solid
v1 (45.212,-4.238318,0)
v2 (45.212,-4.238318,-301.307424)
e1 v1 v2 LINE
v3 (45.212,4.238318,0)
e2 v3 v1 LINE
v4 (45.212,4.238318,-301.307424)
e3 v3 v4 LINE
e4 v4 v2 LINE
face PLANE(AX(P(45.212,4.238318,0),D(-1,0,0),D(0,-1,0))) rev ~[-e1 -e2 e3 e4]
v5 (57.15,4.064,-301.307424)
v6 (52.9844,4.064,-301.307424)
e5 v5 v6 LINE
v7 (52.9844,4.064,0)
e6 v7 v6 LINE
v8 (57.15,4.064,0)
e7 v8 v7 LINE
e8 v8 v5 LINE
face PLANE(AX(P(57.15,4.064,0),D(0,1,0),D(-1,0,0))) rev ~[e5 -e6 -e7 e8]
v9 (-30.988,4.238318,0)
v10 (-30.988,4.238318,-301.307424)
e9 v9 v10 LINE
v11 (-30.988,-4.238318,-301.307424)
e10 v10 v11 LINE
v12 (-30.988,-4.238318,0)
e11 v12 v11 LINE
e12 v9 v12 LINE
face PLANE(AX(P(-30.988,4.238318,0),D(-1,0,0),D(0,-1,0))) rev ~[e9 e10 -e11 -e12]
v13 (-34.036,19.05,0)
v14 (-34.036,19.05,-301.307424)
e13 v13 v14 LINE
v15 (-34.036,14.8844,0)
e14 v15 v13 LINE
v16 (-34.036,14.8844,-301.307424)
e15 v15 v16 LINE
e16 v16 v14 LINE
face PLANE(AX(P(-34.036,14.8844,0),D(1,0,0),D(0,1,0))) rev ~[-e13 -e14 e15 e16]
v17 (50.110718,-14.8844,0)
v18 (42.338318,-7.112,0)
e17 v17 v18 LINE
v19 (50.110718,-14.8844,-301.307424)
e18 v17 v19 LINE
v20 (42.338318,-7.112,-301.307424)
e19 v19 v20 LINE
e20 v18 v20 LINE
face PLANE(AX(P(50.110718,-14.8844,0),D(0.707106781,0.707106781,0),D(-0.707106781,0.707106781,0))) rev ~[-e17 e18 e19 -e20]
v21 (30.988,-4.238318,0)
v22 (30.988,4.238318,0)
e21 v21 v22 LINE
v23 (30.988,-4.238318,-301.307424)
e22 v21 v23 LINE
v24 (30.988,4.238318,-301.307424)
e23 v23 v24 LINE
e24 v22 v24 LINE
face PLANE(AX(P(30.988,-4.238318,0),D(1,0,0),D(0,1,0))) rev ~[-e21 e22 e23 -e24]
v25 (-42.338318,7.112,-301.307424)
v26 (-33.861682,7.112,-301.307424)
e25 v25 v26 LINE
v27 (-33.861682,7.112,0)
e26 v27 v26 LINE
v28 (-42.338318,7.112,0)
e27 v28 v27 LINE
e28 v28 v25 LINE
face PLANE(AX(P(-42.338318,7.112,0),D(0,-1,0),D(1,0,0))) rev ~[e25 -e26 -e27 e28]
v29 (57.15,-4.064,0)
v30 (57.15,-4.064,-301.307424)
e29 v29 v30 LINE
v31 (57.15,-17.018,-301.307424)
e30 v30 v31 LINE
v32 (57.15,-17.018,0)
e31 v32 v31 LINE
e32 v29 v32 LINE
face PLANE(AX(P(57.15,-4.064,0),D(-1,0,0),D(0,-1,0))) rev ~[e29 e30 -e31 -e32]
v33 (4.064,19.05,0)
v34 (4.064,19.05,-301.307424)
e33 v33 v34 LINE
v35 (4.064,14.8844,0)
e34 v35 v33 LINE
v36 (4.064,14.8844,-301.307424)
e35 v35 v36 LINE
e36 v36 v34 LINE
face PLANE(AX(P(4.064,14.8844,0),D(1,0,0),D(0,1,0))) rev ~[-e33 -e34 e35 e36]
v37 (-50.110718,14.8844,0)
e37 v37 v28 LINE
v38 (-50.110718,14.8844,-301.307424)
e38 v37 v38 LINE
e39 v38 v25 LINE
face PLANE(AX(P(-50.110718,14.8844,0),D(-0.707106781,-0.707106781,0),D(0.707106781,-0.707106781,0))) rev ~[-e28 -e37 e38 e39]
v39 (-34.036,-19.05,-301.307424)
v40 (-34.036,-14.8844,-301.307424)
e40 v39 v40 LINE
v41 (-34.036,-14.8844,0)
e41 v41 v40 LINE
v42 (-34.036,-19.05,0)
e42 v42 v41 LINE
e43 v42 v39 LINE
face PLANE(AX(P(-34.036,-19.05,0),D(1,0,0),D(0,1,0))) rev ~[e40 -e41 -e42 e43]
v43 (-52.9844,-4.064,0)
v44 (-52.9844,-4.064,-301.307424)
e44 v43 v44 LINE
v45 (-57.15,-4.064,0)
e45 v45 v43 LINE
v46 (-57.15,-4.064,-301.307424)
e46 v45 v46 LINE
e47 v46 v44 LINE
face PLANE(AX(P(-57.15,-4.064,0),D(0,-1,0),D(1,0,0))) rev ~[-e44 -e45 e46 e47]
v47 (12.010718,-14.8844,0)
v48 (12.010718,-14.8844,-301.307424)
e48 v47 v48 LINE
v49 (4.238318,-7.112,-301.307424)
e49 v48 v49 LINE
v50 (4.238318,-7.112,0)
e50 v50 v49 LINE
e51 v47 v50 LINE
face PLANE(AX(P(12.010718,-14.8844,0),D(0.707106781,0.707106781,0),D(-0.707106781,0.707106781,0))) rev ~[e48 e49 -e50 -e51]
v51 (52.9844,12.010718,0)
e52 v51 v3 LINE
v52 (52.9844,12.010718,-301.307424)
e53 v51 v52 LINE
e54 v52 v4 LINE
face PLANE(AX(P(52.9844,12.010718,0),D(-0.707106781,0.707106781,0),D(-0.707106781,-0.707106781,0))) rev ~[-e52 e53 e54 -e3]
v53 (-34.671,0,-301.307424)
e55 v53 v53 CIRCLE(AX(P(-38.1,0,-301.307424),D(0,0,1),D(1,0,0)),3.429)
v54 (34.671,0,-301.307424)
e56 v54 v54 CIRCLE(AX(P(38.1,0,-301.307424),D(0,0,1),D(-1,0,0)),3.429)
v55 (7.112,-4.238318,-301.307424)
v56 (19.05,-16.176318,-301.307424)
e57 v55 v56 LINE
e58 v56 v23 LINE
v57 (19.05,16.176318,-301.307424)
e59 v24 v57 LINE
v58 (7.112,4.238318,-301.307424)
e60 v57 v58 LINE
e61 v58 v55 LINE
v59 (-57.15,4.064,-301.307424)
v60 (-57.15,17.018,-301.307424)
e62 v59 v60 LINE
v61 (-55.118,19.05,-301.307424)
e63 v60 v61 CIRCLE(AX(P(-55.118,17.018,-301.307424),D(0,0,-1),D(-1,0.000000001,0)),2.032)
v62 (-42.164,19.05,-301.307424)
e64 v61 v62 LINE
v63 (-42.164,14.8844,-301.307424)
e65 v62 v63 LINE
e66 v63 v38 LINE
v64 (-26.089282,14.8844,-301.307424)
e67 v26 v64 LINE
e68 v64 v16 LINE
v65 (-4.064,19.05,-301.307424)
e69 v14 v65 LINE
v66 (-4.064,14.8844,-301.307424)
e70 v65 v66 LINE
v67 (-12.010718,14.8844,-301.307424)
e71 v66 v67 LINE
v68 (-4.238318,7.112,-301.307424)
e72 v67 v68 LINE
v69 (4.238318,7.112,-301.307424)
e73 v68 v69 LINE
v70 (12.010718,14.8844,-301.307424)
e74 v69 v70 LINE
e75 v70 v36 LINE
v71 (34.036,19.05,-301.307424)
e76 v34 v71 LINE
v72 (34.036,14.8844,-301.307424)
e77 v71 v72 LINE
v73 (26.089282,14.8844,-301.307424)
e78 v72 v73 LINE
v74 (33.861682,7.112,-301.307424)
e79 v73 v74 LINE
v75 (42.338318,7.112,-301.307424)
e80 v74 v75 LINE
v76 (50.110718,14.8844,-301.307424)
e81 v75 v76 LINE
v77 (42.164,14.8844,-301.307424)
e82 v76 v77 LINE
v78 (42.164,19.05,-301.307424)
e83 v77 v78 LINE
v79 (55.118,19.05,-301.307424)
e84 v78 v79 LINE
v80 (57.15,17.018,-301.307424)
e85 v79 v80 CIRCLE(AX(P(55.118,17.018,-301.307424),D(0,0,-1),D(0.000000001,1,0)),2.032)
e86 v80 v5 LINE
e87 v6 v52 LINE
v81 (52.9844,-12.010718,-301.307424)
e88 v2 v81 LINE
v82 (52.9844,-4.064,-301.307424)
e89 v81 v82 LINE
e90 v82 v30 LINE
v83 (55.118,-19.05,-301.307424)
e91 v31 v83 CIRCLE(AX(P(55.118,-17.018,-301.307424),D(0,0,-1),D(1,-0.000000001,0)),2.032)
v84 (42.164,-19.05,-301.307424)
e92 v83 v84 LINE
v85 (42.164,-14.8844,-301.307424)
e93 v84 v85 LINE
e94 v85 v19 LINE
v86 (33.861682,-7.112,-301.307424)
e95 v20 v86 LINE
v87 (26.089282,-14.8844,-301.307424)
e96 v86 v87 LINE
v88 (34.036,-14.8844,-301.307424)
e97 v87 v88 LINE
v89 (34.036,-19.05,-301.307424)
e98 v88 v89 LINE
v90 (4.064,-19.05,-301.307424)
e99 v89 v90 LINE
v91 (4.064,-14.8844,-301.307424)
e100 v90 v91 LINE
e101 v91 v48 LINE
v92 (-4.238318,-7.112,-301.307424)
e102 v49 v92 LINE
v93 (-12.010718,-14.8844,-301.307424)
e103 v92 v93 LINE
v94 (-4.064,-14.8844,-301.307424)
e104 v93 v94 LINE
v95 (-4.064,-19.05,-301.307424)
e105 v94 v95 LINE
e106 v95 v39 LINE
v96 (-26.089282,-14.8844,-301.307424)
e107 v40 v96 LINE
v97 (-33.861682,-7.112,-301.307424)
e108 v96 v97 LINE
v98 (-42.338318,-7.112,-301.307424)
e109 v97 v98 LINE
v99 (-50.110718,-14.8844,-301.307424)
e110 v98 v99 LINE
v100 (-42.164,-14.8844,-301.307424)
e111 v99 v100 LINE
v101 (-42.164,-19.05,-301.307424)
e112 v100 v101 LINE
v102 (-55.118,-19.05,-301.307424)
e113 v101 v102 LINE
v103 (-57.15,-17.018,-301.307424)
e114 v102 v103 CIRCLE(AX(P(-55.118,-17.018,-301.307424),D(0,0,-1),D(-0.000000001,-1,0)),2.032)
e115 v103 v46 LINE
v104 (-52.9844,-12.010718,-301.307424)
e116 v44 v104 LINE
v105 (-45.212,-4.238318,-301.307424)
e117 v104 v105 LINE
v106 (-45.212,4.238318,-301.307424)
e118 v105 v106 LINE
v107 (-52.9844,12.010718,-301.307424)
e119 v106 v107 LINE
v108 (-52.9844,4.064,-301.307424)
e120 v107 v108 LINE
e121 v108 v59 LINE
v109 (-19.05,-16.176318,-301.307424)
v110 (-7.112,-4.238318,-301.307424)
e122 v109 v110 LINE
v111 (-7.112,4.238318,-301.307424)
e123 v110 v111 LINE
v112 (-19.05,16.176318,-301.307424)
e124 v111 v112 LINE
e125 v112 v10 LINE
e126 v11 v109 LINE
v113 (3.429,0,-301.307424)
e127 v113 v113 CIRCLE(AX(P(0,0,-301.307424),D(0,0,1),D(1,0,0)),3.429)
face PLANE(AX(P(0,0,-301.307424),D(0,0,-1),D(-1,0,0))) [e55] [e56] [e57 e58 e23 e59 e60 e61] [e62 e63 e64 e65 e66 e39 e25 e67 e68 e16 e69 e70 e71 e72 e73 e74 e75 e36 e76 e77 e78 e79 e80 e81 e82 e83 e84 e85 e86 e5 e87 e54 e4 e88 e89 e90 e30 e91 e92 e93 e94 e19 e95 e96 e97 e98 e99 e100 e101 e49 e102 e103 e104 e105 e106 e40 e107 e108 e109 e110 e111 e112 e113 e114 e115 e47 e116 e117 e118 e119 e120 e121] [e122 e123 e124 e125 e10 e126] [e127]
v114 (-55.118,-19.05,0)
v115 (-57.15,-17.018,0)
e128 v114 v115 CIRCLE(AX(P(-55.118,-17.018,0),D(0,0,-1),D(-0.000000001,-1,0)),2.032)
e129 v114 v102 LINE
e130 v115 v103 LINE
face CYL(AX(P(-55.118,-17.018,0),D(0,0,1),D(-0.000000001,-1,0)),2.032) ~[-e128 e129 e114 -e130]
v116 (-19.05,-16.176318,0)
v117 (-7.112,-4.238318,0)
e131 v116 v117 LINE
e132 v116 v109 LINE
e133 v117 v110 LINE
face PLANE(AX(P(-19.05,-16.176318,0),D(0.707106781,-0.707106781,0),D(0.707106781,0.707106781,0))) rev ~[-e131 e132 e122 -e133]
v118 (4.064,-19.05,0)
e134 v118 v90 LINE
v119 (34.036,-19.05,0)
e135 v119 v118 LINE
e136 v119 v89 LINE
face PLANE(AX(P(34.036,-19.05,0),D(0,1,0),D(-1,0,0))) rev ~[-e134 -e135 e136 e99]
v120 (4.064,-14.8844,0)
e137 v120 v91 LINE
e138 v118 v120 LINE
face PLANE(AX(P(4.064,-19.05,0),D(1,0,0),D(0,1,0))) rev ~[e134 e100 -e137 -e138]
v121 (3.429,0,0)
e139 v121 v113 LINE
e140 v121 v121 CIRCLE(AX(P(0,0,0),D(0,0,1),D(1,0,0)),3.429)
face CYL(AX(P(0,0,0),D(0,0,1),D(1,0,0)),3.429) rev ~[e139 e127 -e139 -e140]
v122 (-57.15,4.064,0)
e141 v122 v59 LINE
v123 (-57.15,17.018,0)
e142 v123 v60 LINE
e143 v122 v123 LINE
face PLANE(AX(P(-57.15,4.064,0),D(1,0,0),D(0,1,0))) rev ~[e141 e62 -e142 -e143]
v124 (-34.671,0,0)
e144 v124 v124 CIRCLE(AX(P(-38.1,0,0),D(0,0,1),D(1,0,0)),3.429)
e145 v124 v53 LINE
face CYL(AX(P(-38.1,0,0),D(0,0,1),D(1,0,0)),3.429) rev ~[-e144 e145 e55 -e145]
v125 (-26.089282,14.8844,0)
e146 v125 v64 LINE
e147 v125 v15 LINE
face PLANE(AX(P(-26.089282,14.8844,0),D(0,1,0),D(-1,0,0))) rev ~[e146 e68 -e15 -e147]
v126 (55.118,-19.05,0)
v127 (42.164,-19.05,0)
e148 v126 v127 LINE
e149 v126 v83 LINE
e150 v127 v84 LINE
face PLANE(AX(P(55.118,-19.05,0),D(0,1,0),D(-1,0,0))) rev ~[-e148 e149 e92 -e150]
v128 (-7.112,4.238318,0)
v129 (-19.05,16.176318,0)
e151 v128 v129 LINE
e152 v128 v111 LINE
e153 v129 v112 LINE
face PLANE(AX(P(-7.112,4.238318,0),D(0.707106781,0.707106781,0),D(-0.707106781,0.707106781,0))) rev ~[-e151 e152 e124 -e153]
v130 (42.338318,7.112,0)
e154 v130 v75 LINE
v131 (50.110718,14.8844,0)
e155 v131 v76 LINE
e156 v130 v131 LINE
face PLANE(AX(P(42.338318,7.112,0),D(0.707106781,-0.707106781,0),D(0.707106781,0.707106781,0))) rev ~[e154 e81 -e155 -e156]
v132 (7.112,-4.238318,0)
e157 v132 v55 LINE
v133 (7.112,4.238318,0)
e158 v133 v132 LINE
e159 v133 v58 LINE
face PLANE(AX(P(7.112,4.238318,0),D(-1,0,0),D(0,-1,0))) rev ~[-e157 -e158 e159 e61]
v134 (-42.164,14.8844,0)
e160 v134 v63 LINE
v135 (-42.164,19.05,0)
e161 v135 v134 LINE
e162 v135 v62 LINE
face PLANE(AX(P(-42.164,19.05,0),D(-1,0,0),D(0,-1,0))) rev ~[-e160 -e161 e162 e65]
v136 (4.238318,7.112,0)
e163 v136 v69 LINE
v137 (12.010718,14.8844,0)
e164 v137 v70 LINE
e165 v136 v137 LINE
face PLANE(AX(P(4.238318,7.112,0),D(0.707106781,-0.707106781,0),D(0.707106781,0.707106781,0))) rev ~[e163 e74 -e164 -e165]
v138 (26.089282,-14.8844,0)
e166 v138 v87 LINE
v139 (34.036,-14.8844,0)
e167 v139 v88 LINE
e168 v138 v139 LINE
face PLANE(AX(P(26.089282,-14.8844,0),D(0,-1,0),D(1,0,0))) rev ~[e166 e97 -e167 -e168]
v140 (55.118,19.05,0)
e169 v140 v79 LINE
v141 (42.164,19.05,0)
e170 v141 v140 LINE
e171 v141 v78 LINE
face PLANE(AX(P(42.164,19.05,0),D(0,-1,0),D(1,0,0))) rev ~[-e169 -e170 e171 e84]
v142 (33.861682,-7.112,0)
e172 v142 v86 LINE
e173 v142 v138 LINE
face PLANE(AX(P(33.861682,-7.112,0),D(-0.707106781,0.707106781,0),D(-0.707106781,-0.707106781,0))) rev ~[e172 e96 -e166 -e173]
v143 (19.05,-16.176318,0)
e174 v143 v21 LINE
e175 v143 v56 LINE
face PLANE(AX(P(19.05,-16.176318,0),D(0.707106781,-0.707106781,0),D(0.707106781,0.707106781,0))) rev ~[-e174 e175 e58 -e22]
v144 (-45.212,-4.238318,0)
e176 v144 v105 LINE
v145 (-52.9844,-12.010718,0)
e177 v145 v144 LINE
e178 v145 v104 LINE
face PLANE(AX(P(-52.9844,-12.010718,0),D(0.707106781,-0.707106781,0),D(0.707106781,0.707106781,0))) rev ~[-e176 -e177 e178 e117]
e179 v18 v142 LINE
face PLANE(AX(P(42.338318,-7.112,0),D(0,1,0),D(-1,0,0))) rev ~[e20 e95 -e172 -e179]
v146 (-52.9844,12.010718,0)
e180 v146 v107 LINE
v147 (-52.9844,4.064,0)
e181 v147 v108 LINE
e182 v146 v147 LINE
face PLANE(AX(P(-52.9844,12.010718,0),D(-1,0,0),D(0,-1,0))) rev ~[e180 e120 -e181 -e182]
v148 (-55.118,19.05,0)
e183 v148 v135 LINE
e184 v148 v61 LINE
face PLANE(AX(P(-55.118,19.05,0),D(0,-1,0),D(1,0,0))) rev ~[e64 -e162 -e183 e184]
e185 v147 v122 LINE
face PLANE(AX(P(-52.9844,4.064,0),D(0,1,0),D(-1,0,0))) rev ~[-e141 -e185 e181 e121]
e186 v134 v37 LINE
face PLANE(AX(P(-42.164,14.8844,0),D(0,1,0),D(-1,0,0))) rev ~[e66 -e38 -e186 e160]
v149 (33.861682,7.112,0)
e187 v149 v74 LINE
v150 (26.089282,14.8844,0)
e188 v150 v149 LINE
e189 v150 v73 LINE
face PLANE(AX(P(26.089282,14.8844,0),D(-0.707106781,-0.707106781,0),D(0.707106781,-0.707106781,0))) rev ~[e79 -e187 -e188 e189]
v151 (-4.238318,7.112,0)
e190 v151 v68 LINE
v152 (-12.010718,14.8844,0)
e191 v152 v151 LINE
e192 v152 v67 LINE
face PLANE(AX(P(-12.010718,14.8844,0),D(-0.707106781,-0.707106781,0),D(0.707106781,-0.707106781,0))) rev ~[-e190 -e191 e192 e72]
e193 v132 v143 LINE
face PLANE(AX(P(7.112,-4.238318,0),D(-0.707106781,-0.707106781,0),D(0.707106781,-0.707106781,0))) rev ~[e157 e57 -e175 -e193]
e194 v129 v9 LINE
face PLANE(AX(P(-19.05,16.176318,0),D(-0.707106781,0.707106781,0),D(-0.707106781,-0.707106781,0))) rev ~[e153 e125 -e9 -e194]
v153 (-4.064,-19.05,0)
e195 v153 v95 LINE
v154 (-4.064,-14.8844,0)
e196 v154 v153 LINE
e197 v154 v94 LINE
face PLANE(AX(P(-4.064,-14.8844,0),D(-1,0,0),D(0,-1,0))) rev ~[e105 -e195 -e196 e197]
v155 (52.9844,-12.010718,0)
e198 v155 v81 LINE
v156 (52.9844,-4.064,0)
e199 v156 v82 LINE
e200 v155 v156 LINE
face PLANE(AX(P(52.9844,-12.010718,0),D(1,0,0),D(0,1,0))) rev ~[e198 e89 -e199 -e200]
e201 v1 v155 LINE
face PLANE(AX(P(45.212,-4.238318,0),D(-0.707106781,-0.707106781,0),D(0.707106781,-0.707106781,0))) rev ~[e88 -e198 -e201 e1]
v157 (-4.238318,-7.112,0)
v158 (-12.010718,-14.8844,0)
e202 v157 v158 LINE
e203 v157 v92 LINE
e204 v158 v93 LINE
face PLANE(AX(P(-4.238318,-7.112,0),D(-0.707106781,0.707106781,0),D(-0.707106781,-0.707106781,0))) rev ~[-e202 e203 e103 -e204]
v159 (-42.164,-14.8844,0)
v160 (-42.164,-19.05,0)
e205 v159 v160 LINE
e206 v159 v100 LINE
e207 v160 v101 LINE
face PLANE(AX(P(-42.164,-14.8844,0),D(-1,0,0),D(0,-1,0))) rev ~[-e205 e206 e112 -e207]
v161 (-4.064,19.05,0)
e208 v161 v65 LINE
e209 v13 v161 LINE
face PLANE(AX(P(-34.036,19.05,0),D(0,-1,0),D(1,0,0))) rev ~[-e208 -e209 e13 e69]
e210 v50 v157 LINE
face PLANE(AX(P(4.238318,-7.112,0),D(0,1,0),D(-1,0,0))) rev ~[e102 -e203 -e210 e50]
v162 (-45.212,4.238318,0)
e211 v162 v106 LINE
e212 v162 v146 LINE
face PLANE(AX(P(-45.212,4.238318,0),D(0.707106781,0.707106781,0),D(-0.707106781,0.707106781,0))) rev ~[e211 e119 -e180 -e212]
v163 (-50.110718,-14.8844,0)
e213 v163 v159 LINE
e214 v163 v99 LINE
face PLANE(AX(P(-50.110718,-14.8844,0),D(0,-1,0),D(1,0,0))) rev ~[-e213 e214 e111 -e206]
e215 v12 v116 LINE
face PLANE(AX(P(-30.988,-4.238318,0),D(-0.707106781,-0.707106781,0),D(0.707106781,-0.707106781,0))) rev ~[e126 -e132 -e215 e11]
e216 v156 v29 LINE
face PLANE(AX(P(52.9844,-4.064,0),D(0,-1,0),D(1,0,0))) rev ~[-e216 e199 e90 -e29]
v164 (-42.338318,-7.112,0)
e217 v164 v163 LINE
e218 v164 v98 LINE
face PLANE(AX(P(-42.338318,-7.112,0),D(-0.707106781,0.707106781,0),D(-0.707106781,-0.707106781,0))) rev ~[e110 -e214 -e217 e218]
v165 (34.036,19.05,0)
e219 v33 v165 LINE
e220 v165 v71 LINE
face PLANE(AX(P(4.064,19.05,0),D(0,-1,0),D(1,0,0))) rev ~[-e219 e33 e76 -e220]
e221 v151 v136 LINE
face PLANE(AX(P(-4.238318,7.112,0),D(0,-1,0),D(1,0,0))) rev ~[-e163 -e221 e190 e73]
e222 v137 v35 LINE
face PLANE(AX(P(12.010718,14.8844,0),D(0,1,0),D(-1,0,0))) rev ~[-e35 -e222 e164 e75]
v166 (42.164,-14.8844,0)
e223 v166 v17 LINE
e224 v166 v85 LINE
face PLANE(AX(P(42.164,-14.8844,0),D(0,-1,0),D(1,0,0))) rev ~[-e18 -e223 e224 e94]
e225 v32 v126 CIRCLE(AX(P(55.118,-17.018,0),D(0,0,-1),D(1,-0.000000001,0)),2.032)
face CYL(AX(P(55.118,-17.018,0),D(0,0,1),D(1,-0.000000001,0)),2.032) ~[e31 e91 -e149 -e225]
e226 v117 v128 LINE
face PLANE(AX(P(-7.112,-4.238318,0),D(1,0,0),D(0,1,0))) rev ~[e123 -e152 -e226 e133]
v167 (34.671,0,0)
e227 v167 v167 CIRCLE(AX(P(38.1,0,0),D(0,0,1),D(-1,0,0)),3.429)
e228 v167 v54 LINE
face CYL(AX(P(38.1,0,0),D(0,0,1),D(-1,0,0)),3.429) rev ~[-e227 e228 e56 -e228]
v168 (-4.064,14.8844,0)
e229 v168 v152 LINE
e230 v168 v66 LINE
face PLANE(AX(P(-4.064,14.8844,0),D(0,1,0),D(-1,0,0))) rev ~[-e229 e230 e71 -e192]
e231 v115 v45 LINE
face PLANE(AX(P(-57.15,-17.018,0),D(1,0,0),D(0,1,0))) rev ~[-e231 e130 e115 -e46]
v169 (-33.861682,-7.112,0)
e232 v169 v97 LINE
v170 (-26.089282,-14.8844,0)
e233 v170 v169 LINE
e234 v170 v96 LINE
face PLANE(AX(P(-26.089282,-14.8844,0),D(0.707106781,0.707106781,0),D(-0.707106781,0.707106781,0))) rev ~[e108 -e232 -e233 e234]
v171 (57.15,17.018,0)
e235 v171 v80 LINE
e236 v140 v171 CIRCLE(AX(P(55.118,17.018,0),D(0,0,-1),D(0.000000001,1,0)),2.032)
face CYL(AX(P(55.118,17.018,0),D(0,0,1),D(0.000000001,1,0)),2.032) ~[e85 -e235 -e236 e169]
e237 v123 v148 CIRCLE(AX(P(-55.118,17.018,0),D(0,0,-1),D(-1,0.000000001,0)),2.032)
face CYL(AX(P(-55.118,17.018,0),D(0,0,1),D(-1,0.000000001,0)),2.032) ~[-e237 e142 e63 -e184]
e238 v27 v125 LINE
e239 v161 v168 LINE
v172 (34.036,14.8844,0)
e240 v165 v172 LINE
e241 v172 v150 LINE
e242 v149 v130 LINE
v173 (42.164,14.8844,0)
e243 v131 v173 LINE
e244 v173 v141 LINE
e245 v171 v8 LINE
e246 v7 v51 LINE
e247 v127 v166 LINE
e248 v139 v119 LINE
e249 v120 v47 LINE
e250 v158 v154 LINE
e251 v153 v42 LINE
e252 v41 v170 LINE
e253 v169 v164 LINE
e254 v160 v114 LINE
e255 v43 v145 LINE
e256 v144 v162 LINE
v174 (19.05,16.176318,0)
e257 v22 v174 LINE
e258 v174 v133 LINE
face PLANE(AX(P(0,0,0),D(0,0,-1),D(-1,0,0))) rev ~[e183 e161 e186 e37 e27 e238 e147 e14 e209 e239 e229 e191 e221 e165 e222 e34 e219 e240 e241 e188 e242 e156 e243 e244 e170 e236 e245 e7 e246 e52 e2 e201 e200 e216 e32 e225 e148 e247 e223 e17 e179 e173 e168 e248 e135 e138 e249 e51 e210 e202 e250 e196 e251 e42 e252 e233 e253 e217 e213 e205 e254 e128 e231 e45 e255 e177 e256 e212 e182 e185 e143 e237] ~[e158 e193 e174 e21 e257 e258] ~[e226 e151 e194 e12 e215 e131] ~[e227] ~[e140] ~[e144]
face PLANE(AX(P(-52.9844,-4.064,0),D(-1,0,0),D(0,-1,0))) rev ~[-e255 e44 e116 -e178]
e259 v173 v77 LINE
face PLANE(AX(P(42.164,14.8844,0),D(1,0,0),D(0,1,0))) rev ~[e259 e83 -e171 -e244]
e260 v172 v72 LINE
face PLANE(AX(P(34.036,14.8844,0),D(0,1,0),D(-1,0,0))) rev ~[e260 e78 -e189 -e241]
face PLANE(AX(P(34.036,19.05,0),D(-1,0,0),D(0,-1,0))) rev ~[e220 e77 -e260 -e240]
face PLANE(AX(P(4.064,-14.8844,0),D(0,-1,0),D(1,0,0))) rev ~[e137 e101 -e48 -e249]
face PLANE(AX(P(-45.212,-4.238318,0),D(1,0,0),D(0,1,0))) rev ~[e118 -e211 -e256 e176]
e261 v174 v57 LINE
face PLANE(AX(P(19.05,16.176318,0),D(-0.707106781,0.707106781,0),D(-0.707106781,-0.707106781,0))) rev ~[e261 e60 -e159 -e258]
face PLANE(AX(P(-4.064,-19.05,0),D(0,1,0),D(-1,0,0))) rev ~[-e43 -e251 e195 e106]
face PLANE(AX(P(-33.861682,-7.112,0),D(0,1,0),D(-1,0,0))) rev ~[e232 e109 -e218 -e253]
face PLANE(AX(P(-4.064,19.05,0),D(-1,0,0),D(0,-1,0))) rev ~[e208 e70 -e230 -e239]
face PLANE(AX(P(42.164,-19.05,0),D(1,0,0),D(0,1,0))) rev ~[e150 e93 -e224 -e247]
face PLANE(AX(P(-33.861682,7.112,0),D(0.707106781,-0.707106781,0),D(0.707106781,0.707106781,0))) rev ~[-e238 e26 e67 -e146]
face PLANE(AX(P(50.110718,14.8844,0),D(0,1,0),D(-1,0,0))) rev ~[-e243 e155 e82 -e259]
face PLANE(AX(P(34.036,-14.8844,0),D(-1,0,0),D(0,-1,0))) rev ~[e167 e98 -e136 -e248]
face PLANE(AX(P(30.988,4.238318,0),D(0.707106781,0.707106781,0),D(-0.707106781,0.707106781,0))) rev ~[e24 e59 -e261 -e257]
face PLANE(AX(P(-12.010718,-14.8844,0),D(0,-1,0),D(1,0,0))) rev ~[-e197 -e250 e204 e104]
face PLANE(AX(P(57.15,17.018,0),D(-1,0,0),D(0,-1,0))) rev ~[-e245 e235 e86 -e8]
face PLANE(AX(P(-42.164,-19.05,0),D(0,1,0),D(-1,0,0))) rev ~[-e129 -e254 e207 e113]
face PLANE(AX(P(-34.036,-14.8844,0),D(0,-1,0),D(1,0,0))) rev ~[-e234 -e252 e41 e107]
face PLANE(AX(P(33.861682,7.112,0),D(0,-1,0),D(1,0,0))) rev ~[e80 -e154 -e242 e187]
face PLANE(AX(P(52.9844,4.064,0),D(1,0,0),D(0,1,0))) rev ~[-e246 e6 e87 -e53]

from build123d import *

# Parameters (mm, degrees)
SKETCH1_R      = 3.429
FINALCUT_DEPTH = 301.3074238


with BuildPart() as part:
    # Sketch1 → FinalCut (new body)
    with BuildSketch(Plane.XY):
        with BuildLine():
            Line((-34.036, -19.05), (-34.036, -14.8844))
            Line((-34.036, -14.8844), (-26.089281959, -14.8844))
            Line((-26.089281959, -14.8844), (-33.861681959, -7.112))
            Line((-33.861681959, -7.112), (-42.338318041, -7.112))
            Line((-42.338318041, -7.112), (-50.110718041, -14.8844))
            Line((-50.110718041, -14.8844), (-42.164, -14.8844))
            Line((-42.164, -14.8844), (-42.164, -19.05))
            Line((-42.164, -19.05), (-55.118, -19.05))
            ThreePointArc((-55.118, -19.05), (-56.554840979, -18.454840979), (-57.15, -17.018))
            Line((-57.15, -17.018), (-57.15, -4.064))
            Line((-57.15, -4.064), (-52.9844, -4.064))
            Line((-52.9844, -4.064), (-52.9844, -12.010718041))
            Line((-52.9844, -12.010718041), (-45.212, -4.238318041))
            Line((-45.212, -4.238318041), (-45.212, 4.238318041))
            Line((-45.212, 4.238318041), (-52.9844, 12.010718041))
            Line((-52.9844, 12.010718041), (-52.9844, 4.064))
            Line((-52.9844, 4.064), (-57.15, 4.064))
            Line((-57.15, 4.064), (-57.15, 17.018))
            ThreePointArc((-57.15, 17.018), (-56.554840979, 18.454840979), (-55.118, 19.05))
            Line((-55.118, 19.05), (-42.164, 19.05))
            Line((-42.164, 19.05), (-42.164, 14.8844))
            Line((-42.164, 14.8844), (-50.110718041, 14.8844))
            Line((-50.110718041, 14.8844), (-42.338318041, 7.112))
            Line((-42.338318041, 7.112), (-33.861681959, 7.112))
            Line((-33.861681959, 7.112), (-26.089281959, 14.8844))
            Line((-26.089281959, 14.8844), (-34.036, 14.8844))
            Line((-34.036, 14.8844), (-34.036, 19.05))
            Line((-34.036, 19.05), (-4.064, 19.05))
            Line((-4.064, 19.05), (-4.064, 14.8844))
            Line((-4.064, 14.8844), (-12.010718041, 14.8844))
            Line((-12.010718041, 14.8844), (-4.238318041, 7.112))
            Line((-4.238318041, 7.112), (4.238318041, 7.112))
            Line((4.238318041, 7.112), (12.010718041, 14.8844))
            Line((12.010718041, 14.8844), (4.064, 14.8844))
            Line((4.064, 14.8844), (4.064, 19.05))
            Line((4.064, 19.05), (34.036, 19.05))
            Line((34.036, 19.05), (34.036, 14.8844))
            Line((34.036, 14.8844), (26.089281959, 14.8844))
            Line((26.089281959, 14.8844), (33.861681959, 7.112))
            Line((33.861681959, 7.112), (42.338318041, 7.112))
            Line((42.338318041, 7.112), (50.110718041, 14.8844))
            Line((50.110718041, 14.8844), (42.164, 14.8844))
            Line((42.164, 14.8844), (42.164, 19.05))
            Line((42.164, 19.05), (55.118, 19.05))
            ThreePointArc((55.118, 19.05), (56.554840979, 18.454840979), (57.15, 17.018))
            Line((57.15, 17.018), (57.15, 4.064))
            Line((57.15, 4.064), (52.9844, 4.064))
            Line((52.9844, 4.064), (52.9844, 12.010718041))
            Line((52.9844, 12.010718041), (45.212, 4.238318041))
            Line((45.212, 4.238318041), (45.212, -4.238318041))
            Line((45.212, -4.238318041), (52.9844, -12.010718041))
            Line((52.9844, -12.010718041), (52.9844, -4.064))
            Line((52.9844, -4.064), (57.15, -4.064))
            Line((57.15, -4.064), (57.15, -17.018))
            ThreePointArc((57.15, -17.018), (56.554840979, -18.454840979), (55.118, -19.05))
            Line((55.118, -19.05), (42.164, -19.05))
            Line((42.164, -19.05), (42.164, -14.8844))
            Line((42.164, -14.8844), (50.110718041, -14.8844))
            Line((50.110718041, -14.8844), (42.338318041, -7.112))
            Line((42.338318041, -7.112), (33.861681959, -7.112))
            Line((33.861681959, -7.112), (26.089281959, -14.8844))
            Line((26.089281959, -14.8844), (34.036, -14.8844))
            Line((34.036, -14.8844), (34.036, -19.05))
            Line((34.036, -19.05), (4.064, -19.05))
            Line((4.064, -19.05), (4.064, -14.8844))
            Line((4.064, -14.8844), (12.010718041, -14.8844))
            Line((12.010718041, -14.8844), (4.238318041, -7.112))
            Line((4.238318041, -7.112), (-4.238318041, -7.112))
            Line((-4.238318041, -7.112), (-12.010718041, -14.8844))
            Line((-12.010718041, -14.8844), (-4.064, -14.8844))
            Line((-4.064, -14.8844), (-4.064, -19.05))
            Line((-4.064, -19.05), (-34.036, -19.05))
        make_face()
        with Locations((38.1, 0)):
            Circle(SKETCH1_R, mode=Mode.SUBTRACT)
        with Locations((-38.1, 0)):
            Circle(SKETCH1_R, mode=Mode.SUBTRACT)
        Circle(SKETCH1_R, mode=Mode.SUBTRACT)
        Polygon((-7.112, 4.238318041), (-19.05, 16.176318041), (-30.988, 4.238318041), (-30.988, -4.238318041), (-19.05, -16.176318041), (-7.112, -4.238318041), align=None, mode=Mode.SUBTRACT)
        Polygon((7.112, 4.238318041), (7.112, -4.238318041), (19.05, -16.176318041), (30.988, -4.238318041), (30.988, 4.238318041), (19.05, 16.176318041), align=None, mode=Mode.SUBTRACT)
    extrude(amount=-FINALCUT_DEPTH)


solid = part.part
